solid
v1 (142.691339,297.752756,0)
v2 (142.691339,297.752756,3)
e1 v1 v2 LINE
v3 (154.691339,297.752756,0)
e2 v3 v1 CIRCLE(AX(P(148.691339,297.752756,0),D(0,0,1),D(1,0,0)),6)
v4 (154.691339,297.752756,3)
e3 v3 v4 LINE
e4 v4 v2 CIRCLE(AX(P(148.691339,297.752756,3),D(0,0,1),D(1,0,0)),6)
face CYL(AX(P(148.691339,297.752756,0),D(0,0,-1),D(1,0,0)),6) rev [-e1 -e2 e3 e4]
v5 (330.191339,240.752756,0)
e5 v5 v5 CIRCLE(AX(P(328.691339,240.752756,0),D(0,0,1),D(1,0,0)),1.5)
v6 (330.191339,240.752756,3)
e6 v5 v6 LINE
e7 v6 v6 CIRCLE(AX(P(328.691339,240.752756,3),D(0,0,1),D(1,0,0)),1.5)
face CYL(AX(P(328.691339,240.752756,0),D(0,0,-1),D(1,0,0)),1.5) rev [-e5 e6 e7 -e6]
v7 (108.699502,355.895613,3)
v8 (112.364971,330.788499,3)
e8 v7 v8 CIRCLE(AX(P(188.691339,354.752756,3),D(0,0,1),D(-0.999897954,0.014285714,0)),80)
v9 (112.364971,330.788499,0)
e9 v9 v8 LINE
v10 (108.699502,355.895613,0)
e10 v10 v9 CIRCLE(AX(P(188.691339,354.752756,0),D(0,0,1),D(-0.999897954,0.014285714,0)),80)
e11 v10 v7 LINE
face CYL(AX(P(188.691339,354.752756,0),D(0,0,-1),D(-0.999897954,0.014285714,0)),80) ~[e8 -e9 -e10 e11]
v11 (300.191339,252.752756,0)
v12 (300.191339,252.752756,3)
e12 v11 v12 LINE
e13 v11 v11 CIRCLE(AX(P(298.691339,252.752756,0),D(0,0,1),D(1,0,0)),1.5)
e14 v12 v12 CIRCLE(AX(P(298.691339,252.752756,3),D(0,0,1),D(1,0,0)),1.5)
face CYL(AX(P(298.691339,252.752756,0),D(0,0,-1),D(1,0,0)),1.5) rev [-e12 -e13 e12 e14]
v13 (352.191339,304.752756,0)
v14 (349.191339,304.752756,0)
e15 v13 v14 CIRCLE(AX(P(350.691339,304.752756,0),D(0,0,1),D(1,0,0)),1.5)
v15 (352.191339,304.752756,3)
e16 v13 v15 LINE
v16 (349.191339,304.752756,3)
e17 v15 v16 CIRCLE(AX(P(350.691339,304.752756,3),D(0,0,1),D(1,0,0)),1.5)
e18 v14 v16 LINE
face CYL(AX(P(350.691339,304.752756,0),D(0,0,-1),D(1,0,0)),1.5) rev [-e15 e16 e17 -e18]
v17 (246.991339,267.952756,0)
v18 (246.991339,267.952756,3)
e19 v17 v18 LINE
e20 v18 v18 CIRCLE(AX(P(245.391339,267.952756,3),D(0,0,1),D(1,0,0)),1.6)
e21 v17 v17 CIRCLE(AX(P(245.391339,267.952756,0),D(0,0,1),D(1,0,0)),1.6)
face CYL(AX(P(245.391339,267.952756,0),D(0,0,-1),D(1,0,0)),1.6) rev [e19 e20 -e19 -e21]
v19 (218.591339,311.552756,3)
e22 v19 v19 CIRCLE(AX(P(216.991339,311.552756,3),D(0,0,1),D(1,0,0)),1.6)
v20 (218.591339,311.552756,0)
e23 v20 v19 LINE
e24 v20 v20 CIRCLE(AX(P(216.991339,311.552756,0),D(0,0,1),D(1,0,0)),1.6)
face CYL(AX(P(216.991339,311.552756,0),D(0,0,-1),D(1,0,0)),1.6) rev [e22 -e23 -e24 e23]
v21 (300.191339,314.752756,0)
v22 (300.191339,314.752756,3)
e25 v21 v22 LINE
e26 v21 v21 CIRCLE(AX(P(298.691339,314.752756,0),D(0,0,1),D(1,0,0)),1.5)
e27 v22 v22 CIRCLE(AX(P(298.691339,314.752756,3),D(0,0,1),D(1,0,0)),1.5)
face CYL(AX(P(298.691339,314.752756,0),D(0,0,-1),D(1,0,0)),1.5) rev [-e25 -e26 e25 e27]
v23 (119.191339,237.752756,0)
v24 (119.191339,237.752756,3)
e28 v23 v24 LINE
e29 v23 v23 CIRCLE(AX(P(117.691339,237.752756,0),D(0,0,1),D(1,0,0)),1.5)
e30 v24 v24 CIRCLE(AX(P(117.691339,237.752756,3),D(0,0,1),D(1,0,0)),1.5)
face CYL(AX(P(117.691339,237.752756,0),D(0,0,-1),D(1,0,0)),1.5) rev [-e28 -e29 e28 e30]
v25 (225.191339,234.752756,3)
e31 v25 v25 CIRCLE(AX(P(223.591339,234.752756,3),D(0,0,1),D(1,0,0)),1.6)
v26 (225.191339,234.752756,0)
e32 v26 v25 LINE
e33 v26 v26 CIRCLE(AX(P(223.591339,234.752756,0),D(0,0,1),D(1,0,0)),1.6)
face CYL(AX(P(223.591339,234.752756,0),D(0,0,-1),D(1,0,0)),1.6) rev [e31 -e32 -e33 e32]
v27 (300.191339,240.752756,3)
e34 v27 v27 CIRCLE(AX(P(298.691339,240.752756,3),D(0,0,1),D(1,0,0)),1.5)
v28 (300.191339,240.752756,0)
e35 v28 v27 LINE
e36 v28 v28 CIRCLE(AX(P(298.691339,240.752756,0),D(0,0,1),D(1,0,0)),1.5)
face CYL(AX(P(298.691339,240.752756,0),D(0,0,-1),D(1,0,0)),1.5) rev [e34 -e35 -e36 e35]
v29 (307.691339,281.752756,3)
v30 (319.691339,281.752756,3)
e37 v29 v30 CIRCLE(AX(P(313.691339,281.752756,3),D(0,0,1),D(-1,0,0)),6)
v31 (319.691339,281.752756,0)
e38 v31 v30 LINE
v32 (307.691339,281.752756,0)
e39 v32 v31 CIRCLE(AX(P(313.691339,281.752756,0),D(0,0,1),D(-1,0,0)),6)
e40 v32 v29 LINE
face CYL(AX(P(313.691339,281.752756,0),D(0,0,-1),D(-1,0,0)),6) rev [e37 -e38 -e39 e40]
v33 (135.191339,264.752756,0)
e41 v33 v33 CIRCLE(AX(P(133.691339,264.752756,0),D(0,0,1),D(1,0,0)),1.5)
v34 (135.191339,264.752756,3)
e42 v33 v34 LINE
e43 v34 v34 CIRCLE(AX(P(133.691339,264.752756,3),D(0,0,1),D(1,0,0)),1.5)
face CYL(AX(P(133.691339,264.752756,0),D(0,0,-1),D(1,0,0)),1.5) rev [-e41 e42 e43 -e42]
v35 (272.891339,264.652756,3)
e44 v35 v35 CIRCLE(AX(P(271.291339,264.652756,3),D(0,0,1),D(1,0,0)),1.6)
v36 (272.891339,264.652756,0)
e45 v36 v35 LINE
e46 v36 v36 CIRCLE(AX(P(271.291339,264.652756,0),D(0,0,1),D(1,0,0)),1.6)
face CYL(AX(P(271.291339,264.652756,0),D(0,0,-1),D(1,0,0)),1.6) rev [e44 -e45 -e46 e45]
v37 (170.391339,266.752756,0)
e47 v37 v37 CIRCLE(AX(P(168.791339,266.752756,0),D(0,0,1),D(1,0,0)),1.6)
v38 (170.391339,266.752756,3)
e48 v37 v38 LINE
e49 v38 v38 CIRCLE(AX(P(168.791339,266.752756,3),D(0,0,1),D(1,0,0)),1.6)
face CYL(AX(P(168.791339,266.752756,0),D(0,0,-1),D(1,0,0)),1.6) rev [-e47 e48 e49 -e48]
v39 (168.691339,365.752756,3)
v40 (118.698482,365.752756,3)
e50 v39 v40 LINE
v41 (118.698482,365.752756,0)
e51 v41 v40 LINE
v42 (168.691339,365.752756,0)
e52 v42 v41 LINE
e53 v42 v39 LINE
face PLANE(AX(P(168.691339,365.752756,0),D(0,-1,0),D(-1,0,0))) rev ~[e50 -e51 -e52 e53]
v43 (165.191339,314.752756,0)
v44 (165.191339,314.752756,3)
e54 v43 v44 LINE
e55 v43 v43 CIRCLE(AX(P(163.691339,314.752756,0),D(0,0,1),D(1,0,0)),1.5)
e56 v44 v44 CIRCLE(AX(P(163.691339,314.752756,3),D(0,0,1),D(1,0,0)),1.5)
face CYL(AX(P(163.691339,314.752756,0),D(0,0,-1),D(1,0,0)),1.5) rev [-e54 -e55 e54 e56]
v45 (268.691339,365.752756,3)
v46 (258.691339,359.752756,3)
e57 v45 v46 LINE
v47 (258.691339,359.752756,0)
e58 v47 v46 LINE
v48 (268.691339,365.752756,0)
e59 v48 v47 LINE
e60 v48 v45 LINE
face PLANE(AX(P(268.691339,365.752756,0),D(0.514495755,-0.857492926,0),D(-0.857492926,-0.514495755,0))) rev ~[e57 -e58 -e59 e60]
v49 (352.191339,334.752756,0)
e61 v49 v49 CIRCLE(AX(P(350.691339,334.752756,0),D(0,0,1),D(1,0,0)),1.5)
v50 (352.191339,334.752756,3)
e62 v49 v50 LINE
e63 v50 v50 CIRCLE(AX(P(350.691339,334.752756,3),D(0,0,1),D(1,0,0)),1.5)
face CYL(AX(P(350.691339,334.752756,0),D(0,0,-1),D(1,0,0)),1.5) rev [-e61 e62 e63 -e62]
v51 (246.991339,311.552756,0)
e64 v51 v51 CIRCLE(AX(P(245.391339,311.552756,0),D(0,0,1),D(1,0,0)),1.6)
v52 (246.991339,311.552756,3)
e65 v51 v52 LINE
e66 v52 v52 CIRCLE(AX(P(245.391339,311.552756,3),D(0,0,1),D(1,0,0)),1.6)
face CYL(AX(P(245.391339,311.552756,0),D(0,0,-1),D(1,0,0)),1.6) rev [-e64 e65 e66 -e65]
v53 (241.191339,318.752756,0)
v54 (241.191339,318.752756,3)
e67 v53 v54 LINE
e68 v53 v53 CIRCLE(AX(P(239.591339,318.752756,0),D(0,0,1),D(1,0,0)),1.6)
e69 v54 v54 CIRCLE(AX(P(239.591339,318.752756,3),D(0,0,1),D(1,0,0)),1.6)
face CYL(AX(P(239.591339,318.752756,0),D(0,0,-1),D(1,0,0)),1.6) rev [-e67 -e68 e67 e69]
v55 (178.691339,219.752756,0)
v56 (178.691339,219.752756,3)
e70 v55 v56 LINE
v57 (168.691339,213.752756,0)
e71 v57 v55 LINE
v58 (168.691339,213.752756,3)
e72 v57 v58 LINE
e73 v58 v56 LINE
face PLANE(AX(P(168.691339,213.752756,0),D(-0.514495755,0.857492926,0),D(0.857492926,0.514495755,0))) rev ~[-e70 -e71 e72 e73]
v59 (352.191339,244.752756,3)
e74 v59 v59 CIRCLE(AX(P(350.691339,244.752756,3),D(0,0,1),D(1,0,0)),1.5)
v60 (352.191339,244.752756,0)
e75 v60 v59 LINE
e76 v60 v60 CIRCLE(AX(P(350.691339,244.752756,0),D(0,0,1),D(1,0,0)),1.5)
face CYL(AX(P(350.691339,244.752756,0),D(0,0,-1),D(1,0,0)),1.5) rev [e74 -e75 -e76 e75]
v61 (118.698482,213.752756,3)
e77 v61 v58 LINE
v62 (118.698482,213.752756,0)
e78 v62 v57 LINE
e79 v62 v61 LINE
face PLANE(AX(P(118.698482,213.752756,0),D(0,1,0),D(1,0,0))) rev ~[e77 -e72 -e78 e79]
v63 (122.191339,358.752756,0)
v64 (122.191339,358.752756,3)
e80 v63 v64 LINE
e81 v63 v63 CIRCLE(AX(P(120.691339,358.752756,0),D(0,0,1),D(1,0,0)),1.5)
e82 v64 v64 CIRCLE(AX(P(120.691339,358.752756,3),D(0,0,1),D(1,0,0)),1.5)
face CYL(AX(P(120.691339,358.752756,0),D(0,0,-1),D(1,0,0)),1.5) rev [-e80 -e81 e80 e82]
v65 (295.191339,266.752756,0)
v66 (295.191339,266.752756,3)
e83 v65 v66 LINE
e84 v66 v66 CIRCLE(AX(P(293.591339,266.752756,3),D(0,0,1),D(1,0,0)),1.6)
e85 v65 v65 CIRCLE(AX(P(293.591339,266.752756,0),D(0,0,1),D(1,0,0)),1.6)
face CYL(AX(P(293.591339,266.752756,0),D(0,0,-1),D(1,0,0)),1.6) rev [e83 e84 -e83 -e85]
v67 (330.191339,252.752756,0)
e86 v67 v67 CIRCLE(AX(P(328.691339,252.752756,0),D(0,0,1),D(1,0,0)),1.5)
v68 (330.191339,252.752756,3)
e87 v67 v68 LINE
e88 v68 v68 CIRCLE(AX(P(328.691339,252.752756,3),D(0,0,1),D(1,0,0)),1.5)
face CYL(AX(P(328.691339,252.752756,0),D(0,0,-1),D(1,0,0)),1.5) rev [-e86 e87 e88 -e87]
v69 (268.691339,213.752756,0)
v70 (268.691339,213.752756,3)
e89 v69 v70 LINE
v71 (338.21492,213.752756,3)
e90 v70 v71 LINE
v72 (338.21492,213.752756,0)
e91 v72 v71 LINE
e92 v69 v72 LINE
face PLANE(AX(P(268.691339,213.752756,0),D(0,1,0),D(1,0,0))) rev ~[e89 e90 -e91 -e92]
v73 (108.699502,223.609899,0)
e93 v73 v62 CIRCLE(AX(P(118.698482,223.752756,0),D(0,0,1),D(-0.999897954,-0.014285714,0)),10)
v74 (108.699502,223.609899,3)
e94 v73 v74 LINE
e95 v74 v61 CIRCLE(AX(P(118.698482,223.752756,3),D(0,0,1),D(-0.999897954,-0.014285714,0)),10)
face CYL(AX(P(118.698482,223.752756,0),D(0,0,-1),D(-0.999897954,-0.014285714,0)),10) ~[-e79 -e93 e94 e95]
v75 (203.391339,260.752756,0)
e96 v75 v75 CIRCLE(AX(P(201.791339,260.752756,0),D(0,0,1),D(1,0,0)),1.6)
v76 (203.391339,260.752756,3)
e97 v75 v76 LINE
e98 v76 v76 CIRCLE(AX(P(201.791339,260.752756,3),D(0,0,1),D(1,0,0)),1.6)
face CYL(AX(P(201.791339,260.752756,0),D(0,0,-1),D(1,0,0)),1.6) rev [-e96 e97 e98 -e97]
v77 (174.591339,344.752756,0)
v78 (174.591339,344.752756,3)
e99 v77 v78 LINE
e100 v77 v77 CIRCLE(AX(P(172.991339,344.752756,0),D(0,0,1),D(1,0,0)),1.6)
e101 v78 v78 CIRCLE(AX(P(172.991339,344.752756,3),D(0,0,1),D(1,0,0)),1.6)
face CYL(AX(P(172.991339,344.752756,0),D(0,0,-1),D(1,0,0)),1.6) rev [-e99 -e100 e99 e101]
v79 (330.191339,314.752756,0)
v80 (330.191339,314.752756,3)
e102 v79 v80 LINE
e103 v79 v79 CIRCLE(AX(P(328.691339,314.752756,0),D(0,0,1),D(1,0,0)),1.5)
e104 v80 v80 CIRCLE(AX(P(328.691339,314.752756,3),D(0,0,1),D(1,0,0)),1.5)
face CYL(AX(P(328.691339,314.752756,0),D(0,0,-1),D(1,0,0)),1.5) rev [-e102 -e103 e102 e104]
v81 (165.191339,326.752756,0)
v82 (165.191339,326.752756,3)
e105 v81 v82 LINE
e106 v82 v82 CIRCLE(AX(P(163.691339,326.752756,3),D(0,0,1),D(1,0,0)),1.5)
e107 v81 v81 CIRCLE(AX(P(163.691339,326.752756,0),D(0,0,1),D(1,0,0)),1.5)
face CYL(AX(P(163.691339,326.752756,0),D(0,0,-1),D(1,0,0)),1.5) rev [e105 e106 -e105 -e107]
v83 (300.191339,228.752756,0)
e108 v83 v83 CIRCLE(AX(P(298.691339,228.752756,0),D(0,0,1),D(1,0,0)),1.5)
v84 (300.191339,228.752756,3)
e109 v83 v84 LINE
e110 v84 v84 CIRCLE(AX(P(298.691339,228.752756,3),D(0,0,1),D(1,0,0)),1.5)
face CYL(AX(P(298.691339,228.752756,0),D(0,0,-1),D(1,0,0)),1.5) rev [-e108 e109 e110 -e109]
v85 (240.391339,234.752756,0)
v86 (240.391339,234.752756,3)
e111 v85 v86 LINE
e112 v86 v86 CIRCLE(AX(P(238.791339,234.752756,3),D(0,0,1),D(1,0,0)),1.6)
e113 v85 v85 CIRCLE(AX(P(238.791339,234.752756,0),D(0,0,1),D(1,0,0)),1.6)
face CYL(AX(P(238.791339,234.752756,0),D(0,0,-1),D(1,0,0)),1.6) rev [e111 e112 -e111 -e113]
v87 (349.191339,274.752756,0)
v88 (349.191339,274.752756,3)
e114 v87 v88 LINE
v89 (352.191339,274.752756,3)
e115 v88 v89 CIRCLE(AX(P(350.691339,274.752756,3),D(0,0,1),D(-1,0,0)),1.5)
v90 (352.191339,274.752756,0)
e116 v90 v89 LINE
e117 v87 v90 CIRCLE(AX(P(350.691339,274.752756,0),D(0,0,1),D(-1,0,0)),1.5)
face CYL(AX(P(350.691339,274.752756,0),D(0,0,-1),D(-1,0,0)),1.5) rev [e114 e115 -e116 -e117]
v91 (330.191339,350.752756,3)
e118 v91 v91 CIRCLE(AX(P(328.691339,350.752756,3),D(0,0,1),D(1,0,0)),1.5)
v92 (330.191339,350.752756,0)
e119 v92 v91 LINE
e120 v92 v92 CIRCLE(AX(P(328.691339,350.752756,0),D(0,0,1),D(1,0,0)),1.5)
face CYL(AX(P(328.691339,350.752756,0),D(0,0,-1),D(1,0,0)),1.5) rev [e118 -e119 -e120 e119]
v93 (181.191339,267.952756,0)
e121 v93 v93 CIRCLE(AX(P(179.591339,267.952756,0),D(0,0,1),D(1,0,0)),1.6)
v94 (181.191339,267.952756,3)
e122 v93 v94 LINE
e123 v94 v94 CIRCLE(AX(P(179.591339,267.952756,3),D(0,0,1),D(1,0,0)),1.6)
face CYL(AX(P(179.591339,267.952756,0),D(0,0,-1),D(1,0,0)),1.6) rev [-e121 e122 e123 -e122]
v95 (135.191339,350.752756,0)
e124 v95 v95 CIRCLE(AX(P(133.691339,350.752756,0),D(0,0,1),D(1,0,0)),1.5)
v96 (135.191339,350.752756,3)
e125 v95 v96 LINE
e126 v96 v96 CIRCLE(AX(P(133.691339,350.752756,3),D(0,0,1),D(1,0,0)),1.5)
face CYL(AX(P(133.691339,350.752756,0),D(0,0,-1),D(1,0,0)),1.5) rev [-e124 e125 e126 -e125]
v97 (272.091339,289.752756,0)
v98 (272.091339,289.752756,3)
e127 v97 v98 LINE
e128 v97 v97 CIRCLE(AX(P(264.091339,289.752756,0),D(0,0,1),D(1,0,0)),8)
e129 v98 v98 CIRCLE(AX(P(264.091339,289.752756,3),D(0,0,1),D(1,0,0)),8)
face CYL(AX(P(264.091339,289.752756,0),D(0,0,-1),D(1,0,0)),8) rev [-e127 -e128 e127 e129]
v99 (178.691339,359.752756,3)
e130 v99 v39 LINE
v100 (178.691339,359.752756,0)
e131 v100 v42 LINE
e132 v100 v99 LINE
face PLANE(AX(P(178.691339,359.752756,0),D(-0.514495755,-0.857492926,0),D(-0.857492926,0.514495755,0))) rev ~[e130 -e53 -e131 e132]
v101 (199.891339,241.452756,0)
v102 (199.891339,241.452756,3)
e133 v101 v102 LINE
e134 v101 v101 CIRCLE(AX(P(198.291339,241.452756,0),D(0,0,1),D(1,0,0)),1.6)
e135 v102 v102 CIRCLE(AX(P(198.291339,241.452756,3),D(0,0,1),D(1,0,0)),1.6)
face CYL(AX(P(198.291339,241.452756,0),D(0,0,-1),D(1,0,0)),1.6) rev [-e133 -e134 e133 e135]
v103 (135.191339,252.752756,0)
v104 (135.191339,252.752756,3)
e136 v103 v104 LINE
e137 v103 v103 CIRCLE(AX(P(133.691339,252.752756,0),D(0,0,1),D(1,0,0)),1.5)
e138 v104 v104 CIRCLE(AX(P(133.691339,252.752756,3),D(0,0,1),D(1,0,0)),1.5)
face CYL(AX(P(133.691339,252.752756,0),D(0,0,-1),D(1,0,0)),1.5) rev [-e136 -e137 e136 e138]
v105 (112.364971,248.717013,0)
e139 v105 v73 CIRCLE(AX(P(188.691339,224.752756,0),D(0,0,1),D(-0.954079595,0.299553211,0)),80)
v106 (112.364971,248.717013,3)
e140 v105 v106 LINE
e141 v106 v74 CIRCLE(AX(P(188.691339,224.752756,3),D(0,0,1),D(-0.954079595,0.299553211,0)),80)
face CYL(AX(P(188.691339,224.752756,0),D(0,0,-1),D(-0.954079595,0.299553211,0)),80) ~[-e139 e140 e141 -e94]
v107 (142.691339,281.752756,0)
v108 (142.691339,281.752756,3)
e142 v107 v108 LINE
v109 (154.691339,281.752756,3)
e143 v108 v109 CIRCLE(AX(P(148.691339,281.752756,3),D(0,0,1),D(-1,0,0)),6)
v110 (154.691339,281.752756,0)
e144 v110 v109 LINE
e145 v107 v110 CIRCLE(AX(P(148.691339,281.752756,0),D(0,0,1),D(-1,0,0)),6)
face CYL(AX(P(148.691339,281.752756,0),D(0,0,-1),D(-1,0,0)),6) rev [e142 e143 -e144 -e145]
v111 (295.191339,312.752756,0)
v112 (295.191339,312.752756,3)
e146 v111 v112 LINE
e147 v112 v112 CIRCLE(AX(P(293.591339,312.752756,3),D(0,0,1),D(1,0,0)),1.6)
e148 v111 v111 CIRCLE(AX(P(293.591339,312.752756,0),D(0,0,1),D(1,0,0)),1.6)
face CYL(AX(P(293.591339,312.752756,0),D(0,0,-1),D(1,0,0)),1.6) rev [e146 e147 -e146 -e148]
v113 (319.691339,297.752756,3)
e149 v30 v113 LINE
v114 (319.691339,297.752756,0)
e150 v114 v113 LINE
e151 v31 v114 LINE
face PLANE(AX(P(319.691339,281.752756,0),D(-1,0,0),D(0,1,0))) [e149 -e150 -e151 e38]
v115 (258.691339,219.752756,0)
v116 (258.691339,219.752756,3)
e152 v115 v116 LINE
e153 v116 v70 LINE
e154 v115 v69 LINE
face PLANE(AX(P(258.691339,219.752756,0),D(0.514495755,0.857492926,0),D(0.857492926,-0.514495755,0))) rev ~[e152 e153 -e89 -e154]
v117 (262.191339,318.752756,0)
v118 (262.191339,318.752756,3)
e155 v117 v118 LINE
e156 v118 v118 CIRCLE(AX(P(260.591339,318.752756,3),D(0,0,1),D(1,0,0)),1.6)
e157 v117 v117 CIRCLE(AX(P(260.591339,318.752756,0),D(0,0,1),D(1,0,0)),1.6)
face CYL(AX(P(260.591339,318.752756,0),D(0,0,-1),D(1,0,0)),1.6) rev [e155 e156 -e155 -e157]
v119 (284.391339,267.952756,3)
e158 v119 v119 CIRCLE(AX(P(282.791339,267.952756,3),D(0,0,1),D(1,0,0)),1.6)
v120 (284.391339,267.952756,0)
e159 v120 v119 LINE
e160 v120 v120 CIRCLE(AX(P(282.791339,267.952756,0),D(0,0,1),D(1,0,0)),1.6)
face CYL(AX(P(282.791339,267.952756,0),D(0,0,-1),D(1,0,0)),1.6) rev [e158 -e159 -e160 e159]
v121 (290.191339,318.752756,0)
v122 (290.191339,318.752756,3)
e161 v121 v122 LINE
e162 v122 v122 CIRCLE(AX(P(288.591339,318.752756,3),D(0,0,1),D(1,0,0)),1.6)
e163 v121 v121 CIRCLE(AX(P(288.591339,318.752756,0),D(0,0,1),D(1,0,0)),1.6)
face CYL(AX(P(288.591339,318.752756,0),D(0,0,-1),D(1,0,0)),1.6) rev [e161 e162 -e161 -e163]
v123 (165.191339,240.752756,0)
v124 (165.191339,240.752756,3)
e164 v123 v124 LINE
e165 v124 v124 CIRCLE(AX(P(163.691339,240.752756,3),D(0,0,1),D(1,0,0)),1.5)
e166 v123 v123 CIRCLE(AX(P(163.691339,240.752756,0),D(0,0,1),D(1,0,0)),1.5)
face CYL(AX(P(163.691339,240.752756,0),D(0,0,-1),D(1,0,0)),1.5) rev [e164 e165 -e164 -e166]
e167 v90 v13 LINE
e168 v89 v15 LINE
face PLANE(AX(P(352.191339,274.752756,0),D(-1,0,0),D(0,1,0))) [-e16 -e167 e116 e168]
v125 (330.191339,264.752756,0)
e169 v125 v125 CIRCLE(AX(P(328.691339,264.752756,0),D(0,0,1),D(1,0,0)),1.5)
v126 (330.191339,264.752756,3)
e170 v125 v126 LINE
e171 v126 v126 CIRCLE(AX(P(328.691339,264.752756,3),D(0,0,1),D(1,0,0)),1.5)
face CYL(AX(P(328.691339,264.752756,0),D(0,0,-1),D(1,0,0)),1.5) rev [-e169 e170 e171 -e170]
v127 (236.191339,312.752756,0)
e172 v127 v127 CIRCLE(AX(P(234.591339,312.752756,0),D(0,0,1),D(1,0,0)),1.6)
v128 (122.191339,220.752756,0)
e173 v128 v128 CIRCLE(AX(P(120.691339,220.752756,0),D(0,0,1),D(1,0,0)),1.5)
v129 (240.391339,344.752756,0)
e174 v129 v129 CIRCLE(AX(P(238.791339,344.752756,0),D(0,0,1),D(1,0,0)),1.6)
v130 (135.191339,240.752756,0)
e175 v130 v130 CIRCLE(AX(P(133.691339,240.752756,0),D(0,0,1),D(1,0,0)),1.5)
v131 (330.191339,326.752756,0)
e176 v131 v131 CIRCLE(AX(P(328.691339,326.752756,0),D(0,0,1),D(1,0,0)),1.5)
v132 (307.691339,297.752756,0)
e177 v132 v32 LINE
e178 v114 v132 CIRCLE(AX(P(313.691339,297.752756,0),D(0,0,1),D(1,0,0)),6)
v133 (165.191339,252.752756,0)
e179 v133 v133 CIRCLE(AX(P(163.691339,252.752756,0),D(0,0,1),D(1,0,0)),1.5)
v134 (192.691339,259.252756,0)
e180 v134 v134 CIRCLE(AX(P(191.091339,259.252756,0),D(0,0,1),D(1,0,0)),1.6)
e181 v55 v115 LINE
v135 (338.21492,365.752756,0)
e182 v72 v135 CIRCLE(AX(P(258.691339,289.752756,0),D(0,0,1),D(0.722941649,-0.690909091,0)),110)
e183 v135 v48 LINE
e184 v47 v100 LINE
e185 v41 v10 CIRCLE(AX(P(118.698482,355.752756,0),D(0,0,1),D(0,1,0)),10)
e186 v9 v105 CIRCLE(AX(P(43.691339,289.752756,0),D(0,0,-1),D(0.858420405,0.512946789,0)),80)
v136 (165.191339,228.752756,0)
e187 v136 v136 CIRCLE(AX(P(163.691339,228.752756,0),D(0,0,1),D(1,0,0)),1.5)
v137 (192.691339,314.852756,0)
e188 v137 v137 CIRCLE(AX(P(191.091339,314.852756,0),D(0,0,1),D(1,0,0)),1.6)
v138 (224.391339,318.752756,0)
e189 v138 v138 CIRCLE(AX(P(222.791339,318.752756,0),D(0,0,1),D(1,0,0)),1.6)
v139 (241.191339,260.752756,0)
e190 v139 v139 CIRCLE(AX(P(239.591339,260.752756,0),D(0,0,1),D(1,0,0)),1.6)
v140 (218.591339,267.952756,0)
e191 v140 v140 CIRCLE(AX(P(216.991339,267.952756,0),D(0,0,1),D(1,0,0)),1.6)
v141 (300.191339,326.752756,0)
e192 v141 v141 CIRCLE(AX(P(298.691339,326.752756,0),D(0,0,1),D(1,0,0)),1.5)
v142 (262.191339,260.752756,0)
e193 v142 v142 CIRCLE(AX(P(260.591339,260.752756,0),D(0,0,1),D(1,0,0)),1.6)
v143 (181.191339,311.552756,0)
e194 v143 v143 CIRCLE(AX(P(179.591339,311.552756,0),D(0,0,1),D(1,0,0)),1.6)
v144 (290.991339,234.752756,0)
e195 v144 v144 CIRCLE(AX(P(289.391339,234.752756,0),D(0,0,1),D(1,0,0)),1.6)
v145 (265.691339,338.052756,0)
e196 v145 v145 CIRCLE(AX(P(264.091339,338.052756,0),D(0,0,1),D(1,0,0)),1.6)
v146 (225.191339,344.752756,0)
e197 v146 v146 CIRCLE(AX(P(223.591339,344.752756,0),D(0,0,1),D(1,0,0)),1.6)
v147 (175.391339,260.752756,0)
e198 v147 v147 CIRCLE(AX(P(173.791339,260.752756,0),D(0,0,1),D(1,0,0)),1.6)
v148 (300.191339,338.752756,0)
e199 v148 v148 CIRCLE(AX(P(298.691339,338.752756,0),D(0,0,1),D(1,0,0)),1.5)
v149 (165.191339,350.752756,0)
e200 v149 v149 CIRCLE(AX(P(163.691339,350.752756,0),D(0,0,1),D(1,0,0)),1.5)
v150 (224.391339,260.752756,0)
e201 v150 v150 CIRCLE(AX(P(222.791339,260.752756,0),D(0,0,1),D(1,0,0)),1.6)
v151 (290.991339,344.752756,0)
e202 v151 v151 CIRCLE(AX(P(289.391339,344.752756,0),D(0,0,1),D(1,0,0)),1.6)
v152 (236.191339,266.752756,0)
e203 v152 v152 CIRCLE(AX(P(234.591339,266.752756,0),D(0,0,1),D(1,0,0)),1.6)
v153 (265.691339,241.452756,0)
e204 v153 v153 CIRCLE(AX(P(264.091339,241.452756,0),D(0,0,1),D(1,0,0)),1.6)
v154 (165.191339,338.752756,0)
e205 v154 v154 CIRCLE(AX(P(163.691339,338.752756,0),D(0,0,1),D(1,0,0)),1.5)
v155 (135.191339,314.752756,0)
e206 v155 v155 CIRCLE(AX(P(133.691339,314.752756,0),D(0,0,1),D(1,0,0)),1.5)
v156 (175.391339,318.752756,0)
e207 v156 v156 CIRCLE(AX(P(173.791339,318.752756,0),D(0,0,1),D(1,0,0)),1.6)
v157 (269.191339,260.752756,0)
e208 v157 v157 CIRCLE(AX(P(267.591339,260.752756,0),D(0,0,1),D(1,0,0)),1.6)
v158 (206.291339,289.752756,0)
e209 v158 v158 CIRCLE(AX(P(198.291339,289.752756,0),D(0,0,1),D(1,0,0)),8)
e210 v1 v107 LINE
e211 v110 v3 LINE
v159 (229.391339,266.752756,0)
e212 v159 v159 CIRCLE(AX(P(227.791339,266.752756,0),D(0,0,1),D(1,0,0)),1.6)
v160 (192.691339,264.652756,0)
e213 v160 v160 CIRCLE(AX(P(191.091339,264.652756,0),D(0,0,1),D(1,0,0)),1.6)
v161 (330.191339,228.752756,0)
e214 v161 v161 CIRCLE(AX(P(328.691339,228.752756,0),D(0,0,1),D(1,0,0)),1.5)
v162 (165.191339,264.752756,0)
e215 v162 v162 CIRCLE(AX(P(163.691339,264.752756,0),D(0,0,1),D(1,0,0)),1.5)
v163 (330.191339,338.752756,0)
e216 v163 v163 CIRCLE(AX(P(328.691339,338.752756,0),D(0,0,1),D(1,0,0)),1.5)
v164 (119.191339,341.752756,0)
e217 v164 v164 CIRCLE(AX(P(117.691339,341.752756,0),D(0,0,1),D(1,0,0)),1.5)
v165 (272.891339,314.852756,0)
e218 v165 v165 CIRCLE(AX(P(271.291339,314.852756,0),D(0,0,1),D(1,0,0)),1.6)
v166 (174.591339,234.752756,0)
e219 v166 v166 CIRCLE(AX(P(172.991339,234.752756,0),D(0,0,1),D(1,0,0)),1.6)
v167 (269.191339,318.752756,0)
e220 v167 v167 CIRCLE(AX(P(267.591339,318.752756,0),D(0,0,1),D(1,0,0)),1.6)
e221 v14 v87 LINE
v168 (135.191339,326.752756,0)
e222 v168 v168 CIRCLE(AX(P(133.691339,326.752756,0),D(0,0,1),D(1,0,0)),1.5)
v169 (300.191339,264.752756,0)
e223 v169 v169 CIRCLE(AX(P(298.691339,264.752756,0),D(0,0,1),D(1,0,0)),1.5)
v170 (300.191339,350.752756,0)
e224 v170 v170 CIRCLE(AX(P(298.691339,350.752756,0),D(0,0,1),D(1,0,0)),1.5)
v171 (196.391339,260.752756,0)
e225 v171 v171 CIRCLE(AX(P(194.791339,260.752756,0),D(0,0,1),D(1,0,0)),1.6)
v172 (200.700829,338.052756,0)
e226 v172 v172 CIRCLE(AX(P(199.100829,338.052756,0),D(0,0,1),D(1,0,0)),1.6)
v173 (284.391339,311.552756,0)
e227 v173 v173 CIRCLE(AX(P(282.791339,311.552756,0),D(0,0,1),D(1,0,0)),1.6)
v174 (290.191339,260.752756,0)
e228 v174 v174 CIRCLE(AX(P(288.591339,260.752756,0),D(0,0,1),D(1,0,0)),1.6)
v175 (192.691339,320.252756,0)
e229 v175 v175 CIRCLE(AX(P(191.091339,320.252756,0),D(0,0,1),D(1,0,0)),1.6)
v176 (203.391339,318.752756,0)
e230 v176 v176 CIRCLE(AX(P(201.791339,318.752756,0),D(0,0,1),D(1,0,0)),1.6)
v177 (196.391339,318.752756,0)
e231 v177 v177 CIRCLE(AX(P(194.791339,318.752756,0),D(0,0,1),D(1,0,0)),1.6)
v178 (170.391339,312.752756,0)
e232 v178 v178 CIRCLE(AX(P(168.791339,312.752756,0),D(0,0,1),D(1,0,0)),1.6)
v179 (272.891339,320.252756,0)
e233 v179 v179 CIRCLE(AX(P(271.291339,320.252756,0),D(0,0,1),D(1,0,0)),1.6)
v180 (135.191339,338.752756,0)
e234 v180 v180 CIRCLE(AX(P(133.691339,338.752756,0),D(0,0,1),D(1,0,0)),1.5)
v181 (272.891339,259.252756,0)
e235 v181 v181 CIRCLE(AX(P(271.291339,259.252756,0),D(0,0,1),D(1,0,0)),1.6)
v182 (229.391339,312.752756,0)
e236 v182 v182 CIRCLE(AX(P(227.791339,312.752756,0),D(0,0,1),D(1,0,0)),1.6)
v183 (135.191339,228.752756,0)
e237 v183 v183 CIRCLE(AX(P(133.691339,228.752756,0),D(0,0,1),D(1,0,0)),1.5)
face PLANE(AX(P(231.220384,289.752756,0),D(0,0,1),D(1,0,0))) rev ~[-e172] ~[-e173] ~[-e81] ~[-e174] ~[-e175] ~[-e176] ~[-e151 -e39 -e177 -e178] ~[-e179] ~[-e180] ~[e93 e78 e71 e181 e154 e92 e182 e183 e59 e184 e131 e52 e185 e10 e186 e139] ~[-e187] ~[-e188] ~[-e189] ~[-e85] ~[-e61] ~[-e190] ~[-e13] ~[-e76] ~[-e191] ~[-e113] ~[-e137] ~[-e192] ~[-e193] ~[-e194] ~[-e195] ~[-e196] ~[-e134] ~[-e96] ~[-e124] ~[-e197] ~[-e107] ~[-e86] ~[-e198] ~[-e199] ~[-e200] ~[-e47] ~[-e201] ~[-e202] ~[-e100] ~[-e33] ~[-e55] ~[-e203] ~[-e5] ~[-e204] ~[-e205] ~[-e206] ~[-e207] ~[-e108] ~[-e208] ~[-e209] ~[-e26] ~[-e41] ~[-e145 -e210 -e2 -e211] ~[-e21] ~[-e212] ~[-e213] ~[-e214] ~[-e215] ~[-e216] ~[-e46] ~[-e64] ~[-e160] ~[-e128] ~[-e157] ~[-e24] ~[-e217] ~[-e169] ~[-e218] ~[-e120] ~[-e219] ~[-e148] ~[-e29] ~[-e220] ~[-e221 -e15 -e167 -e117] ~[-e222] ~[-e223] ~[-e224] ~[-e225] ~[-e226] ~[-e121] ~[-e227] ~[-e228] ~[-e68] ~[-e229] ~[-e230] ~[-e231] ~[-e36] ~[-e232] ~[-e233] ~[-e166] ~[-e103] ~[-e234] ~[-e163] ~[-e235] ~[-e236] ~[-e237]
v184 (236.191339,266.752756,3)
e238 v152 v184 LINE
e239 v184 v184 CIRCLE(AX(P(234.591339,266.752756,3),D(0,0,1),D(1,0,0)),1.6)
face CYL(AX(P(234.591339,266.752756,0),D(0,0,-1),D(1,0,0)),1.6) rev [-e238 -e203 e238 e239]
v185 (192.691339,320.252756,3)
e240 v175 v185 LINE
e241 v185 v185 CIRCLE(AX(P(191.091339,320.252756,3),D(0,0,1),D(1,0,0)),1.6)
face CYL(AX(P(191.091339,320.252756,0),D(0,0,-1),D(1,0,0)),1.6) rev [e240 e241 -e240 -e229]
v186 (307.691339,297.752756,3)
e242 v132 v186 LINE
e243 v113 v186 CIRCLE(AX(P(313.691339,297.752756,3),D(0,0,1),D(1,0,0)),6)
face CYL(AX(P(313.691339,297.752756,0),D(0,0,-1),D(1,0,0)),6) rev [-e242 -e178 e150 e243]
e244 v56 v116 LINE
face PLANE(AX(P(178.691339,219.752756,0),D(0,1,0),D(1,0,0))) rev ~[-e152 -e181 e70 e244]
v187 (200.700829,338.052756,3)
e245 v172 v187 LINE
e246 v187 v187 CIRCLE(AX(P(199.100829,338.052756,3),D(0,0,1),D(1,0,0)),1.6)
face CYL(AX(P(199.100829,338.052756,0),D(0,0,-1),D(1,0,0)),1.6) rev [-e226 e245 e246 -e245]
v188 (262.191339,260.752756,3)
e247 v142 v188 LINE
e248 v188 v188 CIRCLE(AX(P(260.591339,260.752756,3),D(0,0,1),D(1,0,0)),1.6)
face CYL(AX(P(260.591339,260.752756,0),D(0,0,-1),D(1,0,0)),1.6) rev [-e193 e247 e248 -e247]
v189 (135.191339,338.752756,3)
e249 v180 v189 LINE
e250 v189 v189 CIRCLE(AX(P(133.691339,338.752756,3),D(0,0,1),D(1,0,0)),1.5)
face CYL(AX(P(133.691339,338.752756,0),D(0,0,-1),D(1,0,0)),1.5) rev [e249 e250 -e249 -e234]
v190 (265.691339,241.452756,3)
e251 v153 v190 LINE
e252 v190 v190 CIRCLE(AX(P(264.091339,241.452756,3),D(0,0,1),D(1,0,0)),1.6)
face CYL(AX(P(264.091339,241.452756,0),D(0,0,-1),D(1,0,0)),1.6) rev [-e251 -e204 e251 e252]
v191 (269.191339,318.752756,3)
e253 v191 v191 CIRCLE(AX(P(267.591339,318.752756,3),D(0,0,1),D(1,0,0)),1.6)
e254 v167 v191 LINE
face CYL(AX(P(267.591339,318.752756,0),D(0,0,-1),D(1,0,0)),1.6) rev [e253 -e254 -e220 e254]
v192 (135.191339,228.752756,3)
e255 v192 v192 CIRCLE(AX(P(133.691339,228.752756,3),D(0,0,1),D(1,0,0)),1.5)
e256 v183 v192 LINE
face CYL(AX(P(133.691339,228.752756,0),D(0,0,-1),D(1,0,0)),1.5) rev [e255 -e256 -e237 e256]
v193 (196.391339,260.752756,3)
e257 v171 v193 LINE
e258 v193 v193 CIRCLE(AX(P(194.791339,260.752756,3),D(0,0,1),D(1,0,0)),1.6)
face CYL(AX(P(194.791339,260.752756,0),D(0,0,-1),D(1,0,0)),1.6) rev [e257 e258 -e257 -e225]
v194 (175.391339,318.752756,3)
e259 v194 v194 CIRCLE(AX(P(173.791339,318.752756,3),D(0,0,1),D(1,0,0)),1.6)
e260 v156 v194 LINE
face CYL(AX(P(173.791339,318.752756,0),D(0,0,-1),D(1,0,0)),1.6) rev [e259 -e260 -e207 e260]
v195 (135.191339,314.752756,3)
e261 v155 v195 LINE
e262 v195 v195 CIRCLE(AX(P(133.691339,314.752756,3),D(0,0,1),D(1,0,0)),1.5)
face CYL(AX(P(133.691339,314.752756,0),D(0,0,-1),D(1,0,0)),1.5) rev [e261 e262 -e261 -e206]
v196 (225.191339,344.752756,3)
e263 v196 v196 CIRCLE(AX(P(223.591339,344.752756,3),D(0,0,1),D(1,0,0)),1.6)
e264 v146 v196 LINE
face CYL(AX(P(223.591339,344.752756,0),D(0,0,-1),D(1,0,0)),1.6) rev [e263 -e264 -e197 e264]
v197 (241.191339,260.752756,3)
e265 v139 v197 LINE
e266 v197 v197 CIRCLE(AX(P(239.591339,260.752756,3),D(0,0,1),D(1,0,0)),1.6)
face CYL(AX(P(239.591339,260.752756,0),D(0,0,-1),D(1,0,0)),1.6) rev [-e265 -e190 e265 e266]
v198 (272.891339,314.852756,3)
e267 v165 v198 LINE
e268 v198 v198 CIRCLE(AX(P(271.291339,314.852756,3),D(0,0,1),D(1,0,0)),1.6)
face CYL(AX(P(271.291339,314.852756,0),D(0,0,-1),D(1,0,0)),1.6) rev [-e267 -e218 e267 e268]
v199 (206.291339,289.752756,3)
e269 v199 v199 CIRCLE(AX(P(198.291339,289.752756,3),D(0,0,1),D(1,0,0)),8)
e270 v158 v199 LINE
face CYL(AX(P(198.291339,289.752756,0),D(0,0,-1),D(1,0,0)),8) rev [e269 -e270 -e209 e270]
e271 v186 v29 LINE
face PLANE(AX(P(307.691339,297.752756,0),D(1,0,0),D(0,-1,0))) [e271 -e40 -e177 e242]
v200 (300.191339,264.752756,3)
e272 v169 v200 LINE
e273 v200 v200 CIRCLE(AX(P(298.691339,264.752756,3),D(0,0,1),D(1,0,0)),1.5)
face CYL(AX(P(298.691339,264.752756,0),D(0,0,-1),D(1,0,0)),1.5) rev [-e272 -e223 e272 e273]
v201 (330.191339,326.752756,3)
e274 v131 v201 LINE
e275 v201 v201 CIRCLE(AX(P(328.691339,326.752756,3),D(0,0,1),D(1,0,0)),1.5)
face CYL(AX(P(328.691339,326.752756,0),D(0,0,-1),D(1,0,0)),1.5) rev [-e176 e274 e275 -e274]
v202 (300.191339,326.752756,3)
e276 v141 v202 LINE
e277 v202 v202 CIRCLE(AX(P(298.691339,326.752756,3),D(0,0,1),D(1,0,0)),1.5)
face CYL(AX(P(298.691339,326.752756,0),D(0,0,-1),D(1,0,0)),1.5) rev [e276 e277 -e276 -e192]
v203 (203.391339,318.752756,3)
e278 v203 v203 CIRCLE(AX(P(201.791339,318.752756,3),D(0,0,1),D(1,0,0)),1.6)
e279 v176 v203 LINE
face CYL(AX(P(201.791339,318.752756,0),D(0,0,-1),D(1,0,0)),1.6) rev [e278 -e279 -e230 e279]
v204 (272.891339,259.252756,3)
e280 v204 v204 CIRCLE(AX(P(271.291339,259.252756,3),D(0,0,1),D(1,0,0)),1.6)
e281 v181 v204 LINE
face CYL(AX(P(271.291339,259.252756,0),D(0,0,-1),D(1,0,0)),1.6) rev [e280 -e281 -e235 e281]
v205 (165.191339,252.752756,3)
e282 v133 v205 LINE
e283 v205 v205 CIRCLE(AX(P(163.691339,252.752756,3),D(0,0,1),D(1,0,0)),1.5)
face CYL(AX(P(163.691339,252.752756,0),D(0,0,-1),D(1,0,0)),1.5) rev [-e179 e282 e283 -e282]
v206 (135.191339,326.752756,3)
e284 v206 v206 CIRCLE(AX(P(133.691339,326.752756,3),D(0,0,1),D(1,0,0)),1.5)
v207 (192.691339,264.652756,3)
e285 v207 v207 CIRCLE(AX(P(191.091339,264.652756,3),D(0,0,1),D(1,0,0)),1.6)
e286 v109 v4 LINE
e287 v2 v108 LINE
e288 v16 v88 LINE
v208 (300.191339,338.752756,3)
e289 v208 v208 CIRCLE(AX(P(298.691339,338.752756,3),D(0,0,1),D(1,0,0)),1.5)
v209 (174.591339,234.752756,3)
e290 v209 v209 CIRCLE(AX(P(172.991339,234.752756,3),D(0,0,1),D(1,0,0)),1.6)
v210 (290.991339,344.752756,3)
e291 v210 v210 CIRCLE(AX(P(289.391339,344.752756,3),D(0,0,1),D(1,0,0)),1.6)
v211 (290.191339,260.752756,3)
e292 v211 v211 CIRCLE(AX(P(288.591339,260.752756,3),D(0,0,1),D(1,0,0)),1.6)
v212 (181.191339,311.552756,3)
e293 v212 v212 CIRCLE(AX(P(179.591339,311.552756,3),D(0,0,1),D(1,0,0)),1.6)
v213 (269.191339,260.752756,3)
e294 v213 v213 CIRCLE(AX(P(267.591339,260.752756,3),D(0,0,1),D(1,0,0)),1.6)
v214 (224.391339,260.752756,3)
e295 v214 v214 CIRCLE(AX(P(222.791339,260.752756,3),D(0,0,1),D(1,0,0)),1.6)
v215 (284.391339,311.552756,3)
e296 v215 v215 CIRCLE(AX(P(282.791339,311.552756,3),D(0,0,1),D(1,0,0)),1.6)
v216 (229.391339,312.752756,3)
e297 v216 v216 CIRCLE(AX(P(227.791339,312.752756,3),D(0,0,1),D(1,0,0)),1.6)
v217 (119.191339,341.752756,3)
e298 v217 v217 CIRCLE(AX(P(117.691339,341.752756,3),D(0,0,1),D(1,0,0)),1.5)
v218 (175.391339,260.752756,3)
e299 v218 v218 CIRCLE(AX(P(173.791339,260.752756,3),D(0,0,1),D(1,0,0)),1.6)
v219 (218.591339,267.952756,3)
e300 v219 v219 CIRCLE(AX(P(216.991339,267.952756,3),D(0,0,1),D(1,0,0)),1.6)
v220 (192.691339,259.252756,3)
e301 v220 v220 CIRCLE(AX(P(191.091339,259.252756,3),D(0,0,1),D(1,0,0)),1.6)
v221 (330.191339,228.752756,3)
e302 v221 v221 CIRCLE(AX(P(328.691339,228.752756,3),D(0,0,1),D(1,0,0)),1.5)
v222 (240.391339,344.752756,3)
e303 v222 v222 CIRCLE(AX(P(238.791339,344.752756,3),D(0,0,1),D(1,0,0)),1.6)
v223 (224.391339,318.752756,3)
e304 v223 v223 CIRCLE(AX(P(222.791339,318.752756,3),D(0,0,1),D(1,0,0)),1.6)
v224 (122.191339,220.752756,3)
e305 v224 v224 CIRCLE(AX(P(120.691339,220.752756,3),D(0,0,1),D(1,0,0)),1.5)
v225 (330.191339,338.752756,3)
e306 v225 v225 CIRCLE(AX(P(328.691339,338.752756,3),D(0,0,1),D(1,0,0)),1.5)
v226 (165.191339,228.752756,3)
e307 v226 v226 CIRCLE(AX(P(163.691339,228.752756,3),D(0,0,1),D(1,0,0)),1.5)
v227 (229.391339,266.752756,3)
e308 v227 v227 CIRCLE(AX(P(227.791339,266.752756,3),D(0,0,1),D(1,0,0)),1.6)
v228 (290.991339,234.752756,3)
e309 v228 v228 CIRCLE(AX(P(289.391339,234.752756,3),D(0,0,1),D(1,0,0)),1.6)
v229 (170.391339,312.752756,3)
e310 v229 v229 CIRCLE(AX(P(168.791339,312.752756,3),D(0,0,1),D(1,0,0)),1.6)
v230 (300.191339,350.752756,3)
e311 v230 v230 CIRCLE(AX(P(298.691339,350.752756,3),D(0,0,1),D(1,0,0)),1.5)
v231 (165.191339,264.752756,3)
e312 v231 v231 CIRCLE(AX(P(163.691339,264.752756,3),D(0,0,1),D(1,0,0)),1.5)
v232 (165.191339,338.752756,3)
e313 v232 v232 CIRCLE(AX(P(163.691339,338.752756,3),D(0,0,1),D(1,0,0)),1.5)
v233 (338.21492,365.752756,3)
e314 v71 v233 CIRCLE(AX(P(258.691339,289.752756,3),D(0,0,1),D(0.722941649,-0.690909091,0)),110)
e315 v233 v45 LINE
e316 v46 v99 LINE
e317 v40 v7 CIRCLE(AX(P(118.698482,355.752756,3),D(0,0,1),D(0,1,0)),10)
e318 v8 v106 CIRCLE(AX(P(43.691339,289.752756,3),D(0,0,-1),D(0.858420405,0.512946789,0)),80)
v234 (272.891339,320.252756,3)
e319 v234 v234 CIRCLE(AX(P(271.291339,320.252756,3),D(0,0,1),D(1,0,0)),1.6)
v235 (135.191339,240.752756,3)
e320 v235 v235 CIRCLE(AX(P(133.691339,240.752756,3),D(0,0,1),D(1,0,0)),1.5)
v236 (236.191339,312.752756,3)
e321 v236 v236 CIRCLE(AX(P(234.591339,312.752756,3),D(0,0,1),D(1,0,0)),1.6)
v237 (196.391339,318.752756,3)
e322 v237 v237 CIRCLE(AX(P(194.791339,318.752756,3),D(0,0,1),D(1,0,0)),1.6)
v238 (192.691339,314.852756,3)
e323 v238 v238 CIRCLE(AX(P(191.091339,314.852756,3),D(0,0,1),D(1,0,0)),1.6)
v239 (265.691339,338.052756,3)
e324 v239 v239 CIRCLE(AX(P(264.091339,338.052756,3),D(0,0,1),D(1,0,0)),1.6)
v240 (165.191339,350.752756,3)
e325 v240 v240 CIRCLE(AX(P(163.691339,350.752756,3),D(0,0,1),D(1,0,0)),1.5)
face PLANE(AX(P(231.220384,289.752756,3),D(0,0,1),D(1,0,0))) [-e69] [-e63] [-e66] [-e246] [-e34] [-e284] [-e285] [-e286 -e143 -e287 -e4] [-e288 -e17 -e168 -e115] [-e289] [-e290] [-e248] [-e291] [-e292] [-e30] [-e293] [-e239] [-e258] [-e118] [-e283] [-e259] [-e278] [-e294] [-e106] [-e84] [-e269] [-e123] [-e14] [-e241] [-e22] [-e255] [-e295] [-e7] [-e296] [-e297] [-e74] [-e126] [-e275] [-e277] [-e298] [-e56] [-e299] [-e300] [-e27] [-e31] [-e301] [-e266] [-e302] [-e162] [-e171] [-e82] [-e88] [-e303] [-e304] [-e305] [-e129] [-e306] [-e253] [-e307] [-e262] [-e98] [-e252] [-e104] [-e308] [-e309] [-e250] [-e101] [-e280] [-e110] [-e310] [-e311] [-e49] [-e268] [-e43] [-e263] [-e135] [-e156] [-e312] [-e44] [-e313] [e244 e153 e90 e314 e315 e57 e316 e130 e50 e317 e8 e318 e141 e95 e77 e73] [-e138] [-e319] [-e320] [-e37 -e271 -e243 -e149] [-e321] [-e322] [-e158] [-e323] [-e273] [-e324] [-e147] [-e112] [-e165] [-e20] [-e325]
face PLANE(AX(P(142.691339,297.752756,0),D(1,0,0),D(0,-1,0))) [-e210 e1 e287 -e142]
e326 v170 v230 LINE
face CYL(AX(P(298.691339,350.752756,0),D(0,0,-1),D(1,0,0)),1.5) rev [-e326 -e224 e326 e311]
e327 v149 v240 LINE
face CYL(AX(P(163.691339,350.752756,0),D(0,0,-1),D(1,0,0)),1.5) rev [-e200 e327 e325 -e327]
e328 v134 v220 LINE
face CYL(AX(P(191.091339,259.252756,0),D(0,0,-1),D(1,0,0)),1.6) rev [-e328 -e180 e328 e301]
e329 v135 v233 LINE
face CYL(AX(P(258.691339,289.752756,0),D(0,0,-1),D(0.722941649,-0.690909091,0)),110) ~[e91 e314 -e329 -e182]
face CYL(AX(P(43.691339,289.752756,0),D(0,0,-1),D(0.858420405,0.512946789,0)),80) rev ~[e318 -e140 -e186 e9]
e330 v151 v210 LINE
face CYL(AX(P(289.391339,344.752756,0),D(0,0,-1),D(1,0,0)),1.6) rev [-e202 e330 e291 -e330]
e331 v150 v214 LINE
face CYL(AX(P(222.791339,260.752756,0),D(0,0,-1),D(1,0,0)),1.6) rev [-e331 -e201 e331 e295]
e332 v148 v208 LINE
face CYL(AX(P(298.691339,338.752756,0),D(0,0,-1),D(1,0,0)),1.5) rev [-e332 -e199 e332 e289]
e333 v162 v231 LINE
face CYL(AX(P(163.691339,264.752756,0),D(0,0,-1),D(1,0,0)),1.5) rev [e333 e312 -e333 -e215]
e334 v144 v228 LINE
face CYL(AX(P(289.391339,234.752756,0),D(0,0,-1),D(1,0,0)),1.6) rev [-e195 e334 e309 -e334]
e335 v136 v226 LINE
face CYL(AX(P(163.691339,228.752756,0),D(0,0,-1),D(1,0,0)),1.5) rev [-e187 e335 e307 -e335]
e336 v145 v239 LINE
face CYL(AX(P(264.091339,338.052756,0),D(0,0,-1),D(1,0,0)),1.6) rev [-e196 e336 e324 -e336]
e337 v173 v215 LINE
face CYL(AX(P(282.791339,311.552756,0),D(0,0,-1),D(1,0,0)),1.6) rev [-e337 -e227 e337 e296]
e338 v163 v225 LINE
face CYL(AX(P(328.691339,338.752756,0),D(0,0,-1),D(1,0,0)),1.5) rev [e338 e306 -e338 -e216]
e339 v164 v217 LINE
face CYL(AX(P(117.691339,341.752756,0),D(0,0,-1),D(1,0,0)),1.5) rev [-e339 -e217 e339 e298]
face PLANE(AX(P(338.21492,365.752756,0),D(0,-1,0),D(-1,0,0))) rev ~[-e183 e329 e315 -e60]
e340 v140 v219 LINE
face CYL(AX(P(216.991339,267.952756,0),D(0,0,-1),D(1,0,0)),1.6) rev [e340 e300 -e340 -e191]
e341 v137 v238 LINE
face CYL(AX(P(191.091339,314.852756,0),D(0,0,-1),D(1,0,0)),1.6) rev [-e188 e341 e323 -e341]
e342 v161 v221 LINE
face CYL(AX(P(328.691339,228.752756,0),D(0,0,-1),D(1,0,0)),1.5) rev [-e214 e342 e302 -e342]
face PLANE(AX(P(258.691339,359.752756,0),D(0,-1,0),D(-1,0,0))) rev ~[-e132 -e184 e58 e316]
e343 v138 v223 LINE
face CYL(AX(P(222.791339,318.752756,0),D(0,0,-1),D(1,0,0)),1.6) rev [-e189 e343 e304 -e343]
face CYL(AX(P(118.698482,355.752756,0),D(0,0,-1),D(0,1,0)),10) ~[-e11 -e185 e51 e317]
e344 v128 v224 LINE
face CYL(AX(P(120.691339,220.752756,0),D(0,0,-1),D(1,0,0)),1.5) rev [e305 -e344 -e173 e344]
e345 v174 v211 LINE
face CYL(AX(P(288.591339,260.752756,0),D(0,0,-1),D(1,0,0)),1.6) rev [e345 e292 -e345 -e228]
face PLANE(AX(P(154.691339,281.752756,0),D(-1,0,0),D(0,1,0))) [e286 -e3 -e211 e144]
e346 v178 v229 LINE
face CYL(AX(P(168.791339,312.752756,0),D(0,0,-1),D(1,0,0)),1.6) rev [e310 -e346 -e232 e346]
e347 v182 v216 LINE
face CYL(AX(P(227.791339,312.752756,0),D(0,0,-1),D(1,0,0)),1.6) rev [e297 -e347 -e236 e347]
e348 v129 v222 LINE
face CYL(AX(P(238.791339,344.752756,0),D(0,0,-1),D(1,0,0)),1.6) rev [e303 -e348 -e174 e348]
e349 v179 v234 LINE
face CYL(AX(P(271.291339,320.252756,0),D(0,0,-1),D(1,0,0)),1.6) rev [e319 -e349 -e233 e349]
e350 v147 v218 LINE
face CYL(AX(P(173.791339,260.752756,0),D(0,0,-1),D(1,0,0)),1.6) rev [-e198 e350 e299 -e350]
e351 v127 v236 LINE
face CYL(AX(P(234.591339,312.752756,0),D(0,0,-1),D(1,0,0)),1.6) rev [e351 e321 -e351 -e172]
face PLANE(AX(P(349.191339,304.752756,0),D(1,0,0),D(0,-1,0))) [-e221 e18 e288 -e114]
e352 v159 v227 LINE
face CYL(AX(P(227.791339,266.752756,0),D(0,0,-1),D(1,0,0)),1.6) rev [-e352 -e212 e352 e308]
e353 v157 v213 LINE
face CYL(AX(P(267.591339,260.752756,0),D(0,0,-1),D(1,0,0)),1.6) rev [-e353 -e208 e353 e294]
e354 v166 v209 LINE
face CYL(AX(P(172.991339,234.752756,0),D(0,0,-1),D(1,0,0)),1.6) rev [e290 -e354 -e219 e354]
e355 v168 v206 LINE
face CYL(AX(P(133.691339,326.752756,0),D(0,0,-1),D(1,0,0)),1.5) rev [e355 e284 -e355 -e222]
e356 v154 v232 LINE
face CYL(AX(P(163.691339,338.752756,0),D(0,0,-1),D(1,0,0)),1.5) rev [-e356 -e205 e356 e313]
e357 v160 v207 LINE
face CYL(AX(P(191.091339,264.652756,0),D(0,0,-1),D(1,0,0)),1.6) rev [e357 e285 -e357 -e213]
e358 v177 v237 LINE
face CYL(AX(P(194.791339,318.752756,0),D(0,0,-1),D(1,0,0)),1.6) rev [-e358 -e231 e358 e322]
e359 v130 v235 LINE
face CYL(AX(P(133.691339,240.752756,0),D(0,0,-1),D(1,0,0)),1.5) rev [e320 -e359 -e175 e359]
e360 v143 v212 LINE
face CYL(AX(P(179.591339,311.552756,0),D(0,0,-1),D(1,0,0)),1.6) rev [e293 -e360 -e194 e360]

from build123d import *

# Parameters (mm, degrees)
SKETCH2_R           = 8
SKETCH2_R_2         = 1.6
SKETCH2_R_3         = 1.5
BOSS_EXTRUDE1_DEPTH = 3


with BuildPart() as part:
    # Sketch2 → Boss-Extrude1 (new body)
    with BuildSketch(Plane.XY):
        with BuildLine():
            Line((118.698481804, 213.752755906), (168.691338583, 213.752755906))
            Line((168.691338583, 213.752755906), (178.691338583, 219.752755906))
            Line((178.691338583, 219.752755906), (258.691338583, 219.752755906))
            Line((258.691338583, 219.752755906), (268.691338583, 213.752755906))
            Line((268.691338583, 213.752755906), (338.214919991, 213.752755906))
            ThreePointArc((338.214919991, 213.752755906), (368.691338583, 289.752755906), (338.214919991, 365.752755906))
            Line((338.214919991, 365.752755906), (268.691338583, 365.752755906))
            Line((268.691338583, 365.752755906), (258.691338583, 359.752755906))
            Line((258.691338583, 359.752755906), (178.691338583, 359.752755906))
            Line((178.691338583, 359.752755906), (168.691338583, 365.752755906))
            Line((168.691338583, 365.752755906), (118.698481804, 365.752755906))
            ThreePointArc((118.698481804, 365.752755906), (111.678103304, 362.874152237), (108.699502265, 355.895613048))
            ThreePointArc((108.699502265, 355.895613048), (109.530508537, 343.195810526), (112.36497097, 330.788499042))
            ThreePointArc((112.36497097, 330.788499042), (123.691338583, 289.752755906), (112.36497097, 248.717012769))
            ThreePointArc((112.36497097, 248.717012769), (109.530508537, 236.309701285), (108.699502265, 223.609898763))
            ThreePointArc((108.699502265, 223.609898763), (111.678103304, 216.631359574), (118.698481804, 213.752755906))
        make_face()
        with Locations((198.291338583, 289.752755906)):
            Circle(SKETCH2_R, mode=Mode.SUBTRACT)
        with Locations((264.091338583, 289.752755906)):
            Circle(SKETCH2_R, mode=Mode.SUBTRACT)
        with Locations((264.091338583, 338.052755906)):
            Circle(SKETCH2_R_2, mode=Mode.SUBTRACT)
        with Locations((260.591338583, 318.752755906)):
            Circle(SKETCH2_R_2, mode=Mode.SUBTRACT)
        with Locations((245.391338583, 311.552755906)):
            Circle(SKETCH2_R_2, mode=Mode.SUBTRACT)
        with Locations((238.791338583, 344.752755906)):
            Circle(SKETCH2_R_2, mode=Mode.SUBTRACT)
        with Locations((239.591338583, 318.752755906)):
            Circle(SKETCH2_R_2, mode=Mode.SUBTRACT)
        with Locations((234.591338583, 312.752755906)):
            Circle(SKETCH2_R_2, mode=Mode.SUBTRACT)
        with Locations((227.791338583, 312.752755906)):
            Circle(SKETCH2_R_2, mode=Mode.SUBTRACT)
        with Locations((216.991338583, 311.552755906)):
            Circle(SKETCH2_R_2, mode=Mode.SUBTRACT)
        with Locations((222.791338583, 318.752755906)):
            Circle(SKETCH2_R_2, mode=Mode.SUBTRACT)
        with Locations((223.591338583, 344.752755906)):
            Circle(SKETCH2_R_2, mode=Mode.SUBTRACT)
        with Locations((201.791338583, 318.752755906)):
            Circle(SKETCH2_R_2, mode=Mode.SUBTRACT)
        with Locations((194.791338583, 318.752755906)):
            Circle(SKETCH2_R_2, mode=Mode.SUBTRACT)
        with Locations((199.100829472, 338.052755906)):
            Circle(SKETCH2_R_2, mode=Mode.SUBTRACT)
        with Locations((191.091338583, 320.252755906)):
            Circle(SKETCH2_R_2, mode=Mode.SUBTRACT)
        with Locations((191.091338583, 314.852755906)):
            Circle(SKETCH2_R_2, mode=Mode.SUBTRACT)
        with Locations((179.591338583, 311.552755906)):
            Circle(SKETCH2_R_2, mode=Mode.SUBTRACT)
        with Locations((173.791338583, 318.752755906)):
            Circle(SKETCH2_R_2, mode=Mode.SUBTRACT)
        with Locations((168.791338583, 312.752755906)):
            Circle(SKETCH2_R_2, mode=Mode.SUBTRACT)
        with Locations((163.691338583, 314.752755906)):
            Circle(SKETCH2_R_3, mode=Mode.SUBTRACT)
        with Locations((163.691338583, 326.752755906)):
            Circle(SKETCH2_R_3, mode=Mode.SUBTRACT)
        with Locations((163.691338583, 338.752755906)):
            Circle(SKETCH2_R_3, mode=Mode.SUBTRACT)
        with Locations((172.991338583, 344.752755906)):
            Circle(SKETCH2_R_2, mode=Mode.SUBTRACT)
        with Locations((163.691338583, 350.752755906)):
            Circle(SKETCH2_R_3, mode=Mode.SUBTRACT)
        with Locations((133.691338583, 350.752755906)):
            Circle(SKETCH2_R_3, mode=Mode.SUBTRACT)
        with Locations((120.691338583, 358.752755906)):
            Circle(SKETCH2_R_3, mode=Mode.SUBTRACT)
        with Locations((117.691338583, 341.752755906)):
            Circle(SKETCH2_R_3, mode=Mode.SUBTRACT)
        with Locations((133.691338583, 338.752755906)):
            Circle(SKETCH2_R_3, mode=Mode.SUBTRACT)
        with Locations((133.691338583, 326.752755906)):
            Circle(SKETCH2_R_3, mode=Mode.SUBTRACT)
        with Locations((133.691338583, 314.752755906)):
            Circle(SKETCH2_R_3, mode=Mode.SUBTRACT)
        with Locations((198.291338583, 241.452755906)):
            Circle(SKETCH2_R_2, mode=Mode.SUBTRACT)
        with Locations((201.791338583, 260.752755906)):
            Circle(SKETCH2_R_2, mode=Mode.SUBTRACT)
        with Locations((216.991338583, 267.952755906)):
            Circle(SKETCH2_R_2, mode=Mode.SUBTRACT)
        with Locations((227.791338583, 266.752755906)):
            Circle(SKETCH2_R_2, mode=Mode.SUBTRACT)
        with Locations((222.791338583, 260.752755906)):
            Circle(SKETCH2_R_2, mode=Mode.SUBTRACT)
        with Locations((223.591338583, 234.752755906)):
            Circle(SKETCH2_R_2, mode=Mode.SUBTRACT)
        with Locations((238.791338583, 234.752755906)):
            Circle(SKETCH2_R_2, mode=Mode.SUBTRACT)
        with Locations((234.591338583, 266.752755906)):
            Circle(SKETCH2_R_2, mode=Mode.SUBTRACT)
        with Locations((245.391338583, 267.952755906)):
            Circle(SKETCH2_R_2, mode=Mode.SUBTRACT)
        with Locations((239.591338583, 260.752755906)):
            Circle(SKETCH2_R_2, mode=Mode.SUBTRACT)
        with Locations((264.091338583, 241.452755906)):
            Circle(SKETCH2_R_2, mode=Mode.SUBTRACT)
        with Locations((260.591338583, 260.752755906)):
            Circle(SKETCH2_R_2, mode=Mode.SUBTRACT)
        with Locations((267.591338583, 260.752755906)):
            Circle(SKETCH2_R_2, mode=Mode.SUBTRACT)
        with Locations((271.291338583, 264.652755906)):
            Circle(SKETCH2_R_2, mode=Mode.SUBTRACT)
        with Locations((271.291338583, 259.252755906)):
            Circle(SKETCH2_R_2, mode=Mode.SUBTRACT)
        with Locations((289.391338583, 234.752755906)):
            Circle(SKETCH2_R_2, mode=Mode.SUBTRACT)
        with Locations((298.691338583, 228.752755906)):
            Circle(SKETCH2_R_3, mode=Mode.SUBTRACT)
        with Locations((298.691338583, 240.752755906)):
            Circle(SKETCH2_R_3, mode=Mode.SUBTRACT)
        with Locations((288.591338583, 260.752755906)):
            Circle(SKETCH2_R_2, mode=Mode.SUBTRACT)
        with Locations((282.791338583, 267.952755906)):
            Circle(SKETCH2_R_2, mode=Mode.SUBTRACT)
        with Locations((293.591338583, 266.752755906)):
            Circle(SKETCH2_R_2, mode=Mode.SUBTRACT)
        with Locations((298.691338583, 264.752755906)):
            Circle(SKETCH2_R_3, mode=Mode.SUBTRACT)
        with Locations((298.691338583, 252.752755906)):
            Circle(SKETCH2_R_3, mode=Mode.SUBTRACT)
        with Locations((328.691338583, 228.752755906)):
            Circle(SKETCH2_R_3, mode=Mode.SUBTRACT)
        with Locations((328.691338583, 240.752755906)):
            Circle(SKETCH2_R_3, mode=Mode.SUBTRACT)
        with Locations((328.691338583, 252.752755906)):
            Circle(SKETCH2_R_3, mode=Mode.SUBTRACT)
        with Locations((328.691338583, 264.752755906)):
            Circle(SKETCH2_R_3, mode=Mode.SUBTRACT)
        with Locations((350.691338583, 244.752755906)):
            Circle(SKETCH2_R_3, mode=Mode.SUBTRACT)
        with Locations((350.691338583, 334.752755906)):
            Circle(SKETCH2_R_3, mode=Mode.SUBTRACT)
        with Locations((328.691338583, 350.752755906)):
            Circle(SKETCH2_R_3, mode=Mode.SUBTRACT)
        with Locations((328.691338583, 338.752755906)):
            Circle(SKETCH2_R_3, mode=Mode.SUBTRACT)
        with Locations((328.691338583, 326.752755906)):
            Circle(SKETCH2_R_3, mode=Mode.SUBTRACT)
        with Locations((328.691338583, 314.752755906)):
            Circle(SKETCH2_R_3, mode=Mode.SUBTRACT)
        with Locations((282.791338583, 311.552755906)):
            Circle(SKETCH2_R_2, mode=Mode.SUBTRACT)
        with Locations((288.591338583, 318.752755906)):
            Circle(SKETCH2_R_2, mode=Mode.SUBTRACT)
        with Locations((293.591338583, 312.752755906)):
            Circle(SKETCH2_R_2, mode=Mode.SUBTRACT)
        with Locations((298.691338583, 314.752755906)):
            Circle(SKETCH2_R_3, mode=Mode.SUBTRACT)
        with Locations((298.691338583, 326.752755906)):
            Circle(SKETCH2_R_3, mode=Mode.SUBTRACT)
        with Locations((298.691338583, 338.752755906)):
            Circle(SKETCH2_R_3, mode=Mode.SUBTRACT)
        with Locations((298.691338583, 350.752755906)):
            Circle(SKETCH2_R_3, mode=Mode.SUBTRACT)
        with Locations((289.391338583, 344.752755906)):
            Circle(SKETCH2_R_2, mode=Mode.SUBTRACT)
        with Locations((271.291338583, 320.252755906)):
            Circle(SKETCH2_R_2, mode=Mode.SUBTRACT)
        with Locations((271.291338583, 314.852755906)):
            Circle(SKETCH2_R_2, mode=Mode.SUBTRACT)
        with Locations((267.591338583, 318.752755906)):
            Circle(SKETCH2_R_2, mode=Mode.SUBTRACT)
        with Locations((120.691338583, 220.752755906)):
            Circle(SKETCH2_R_3, mode=Mode.SUBTRACT)
        with Locations((117.691338583, 237.752755906)):
            Circle(SKETCH2_R_3, mode=Mode.SUBTRACT)
        with Locations((133.691338583, 264.752755906)):
            Circle(SKETCH2_R_3, mode=Mode.SUBTRACT)
        with Locations((133.691338583, 252.752755906)):
            Circle(SKETCH2_R_3, mode=Mode.SUBTRACT)
        with Locations((133.691338583, 240.752755906)):
            Circle(SKETCH2_R_3, mode=Mode.SUBTRACT)
        with Locations((133.691338583, 228.752755906)):
            Circle(SKETCH2_R_3, mode=Mode.SUBTRACT)
        with Locations((163.691338583, 228.752755906)):
            Circle(SKETCH2_R_3, mode=Mode.SUBTRACT)
        with Locations((163.691338583, 240.752755906)):
            Circle(SKETCH2_R_3, mode=Mode.SUBTRACT)
        with Locations((172.991338583, 234.752755906)):
            Circle(SKETCH2_R_2, mode=Mode.SUBTRACT)
        with Locations((163.691338583, 252.752755906)):
            Circle(SKETCH2_R_3, mode=Mode.SUBTRACT)
        with Locations((163.691338583, 264.752755906)):
            Circle(SKETCH2_R_3, mode=Mode.SUBTRACT)
        with Locations((168.791338583, 266.752755906)):
            Circle(SKETCH2_R_2, mode=Mode.SUBTRACT)
        with Locations((173.791338583, 260.752755906)):
            Circle(SKETCH2_R_2, mode=Mode.SUBTRACT)
        with Locations((179.591338583, 267.952755906)):
            Circle(SKETCH2_R_2, mode=Mode.SUBTRACT)
        with Locations((191.091338583, 264.652755906)):
            Circle(SKETCH2_R_2, mode=Mode.SUBTRACT)
        with Locations((194.791338583, 260.752755906)):
            Circle(SKETCH2_R_2, mode=Mode.SUBTRACT)
        with Locations((191.091338583, 259.252755906)):
            Circle(SKETCH2_R_2, mode=Mode.SUBTRACT)
        with BuildLine():
            Line((142.691338583, 297.752755906), (142.691338583, 281.752755906))
            ThreePointArc((142.691338583, 281.752755906), (148.691338583, 275.752755906), (154.691338583, 281.752755906))
            Line((154.691338583, 281.752755906), (154.691338583, 297.752755906))
            ThreePointArc((154.691338583, 297.752755906), (148.691338583, 303.752755906), (142.691338583, 297.752755906))
        make_face(mode=Mode.SUBTRACT)
        with BuildLine():
            Line((307.691338583, 297.752755906), (307.691338583, 281.752755906))
            ThreePointArc((307.691338583, 281.752755906), (313.691338583, 275.752755906), (319.691338583, 281.752755906))
            Line((319.691338583, 281.752755906), (319.691338583, 297.752755906))
            ThreePointArc((319.691338583, 297.752755906), (313.691338583, 303.752755906), (307.691338583, 297.752755906))
        make_face(mode=Mode.SUBTRACT)
        with BuildLine():
            Line((349.191338583, 304.752755906), (349.191338583, 274.752755906))
            ThreePointArc((349.191338583, 274.752755906), (350.691338583, 273.252755906), (352.191338583, 274.752755906))
            Line((352.191338583, 274.752755906), (352.191338583, 304.752755906))
            ThreePointArc((352.191338583, 304.752755906), (350.691338583, 306.252755906), (349.191338583, 304.752755906))
        make_face(mode=Mode.SUBTRACT)
    extrude(amount=BOSS_EXTRUDE1_DEPTH)


solid = part.part
